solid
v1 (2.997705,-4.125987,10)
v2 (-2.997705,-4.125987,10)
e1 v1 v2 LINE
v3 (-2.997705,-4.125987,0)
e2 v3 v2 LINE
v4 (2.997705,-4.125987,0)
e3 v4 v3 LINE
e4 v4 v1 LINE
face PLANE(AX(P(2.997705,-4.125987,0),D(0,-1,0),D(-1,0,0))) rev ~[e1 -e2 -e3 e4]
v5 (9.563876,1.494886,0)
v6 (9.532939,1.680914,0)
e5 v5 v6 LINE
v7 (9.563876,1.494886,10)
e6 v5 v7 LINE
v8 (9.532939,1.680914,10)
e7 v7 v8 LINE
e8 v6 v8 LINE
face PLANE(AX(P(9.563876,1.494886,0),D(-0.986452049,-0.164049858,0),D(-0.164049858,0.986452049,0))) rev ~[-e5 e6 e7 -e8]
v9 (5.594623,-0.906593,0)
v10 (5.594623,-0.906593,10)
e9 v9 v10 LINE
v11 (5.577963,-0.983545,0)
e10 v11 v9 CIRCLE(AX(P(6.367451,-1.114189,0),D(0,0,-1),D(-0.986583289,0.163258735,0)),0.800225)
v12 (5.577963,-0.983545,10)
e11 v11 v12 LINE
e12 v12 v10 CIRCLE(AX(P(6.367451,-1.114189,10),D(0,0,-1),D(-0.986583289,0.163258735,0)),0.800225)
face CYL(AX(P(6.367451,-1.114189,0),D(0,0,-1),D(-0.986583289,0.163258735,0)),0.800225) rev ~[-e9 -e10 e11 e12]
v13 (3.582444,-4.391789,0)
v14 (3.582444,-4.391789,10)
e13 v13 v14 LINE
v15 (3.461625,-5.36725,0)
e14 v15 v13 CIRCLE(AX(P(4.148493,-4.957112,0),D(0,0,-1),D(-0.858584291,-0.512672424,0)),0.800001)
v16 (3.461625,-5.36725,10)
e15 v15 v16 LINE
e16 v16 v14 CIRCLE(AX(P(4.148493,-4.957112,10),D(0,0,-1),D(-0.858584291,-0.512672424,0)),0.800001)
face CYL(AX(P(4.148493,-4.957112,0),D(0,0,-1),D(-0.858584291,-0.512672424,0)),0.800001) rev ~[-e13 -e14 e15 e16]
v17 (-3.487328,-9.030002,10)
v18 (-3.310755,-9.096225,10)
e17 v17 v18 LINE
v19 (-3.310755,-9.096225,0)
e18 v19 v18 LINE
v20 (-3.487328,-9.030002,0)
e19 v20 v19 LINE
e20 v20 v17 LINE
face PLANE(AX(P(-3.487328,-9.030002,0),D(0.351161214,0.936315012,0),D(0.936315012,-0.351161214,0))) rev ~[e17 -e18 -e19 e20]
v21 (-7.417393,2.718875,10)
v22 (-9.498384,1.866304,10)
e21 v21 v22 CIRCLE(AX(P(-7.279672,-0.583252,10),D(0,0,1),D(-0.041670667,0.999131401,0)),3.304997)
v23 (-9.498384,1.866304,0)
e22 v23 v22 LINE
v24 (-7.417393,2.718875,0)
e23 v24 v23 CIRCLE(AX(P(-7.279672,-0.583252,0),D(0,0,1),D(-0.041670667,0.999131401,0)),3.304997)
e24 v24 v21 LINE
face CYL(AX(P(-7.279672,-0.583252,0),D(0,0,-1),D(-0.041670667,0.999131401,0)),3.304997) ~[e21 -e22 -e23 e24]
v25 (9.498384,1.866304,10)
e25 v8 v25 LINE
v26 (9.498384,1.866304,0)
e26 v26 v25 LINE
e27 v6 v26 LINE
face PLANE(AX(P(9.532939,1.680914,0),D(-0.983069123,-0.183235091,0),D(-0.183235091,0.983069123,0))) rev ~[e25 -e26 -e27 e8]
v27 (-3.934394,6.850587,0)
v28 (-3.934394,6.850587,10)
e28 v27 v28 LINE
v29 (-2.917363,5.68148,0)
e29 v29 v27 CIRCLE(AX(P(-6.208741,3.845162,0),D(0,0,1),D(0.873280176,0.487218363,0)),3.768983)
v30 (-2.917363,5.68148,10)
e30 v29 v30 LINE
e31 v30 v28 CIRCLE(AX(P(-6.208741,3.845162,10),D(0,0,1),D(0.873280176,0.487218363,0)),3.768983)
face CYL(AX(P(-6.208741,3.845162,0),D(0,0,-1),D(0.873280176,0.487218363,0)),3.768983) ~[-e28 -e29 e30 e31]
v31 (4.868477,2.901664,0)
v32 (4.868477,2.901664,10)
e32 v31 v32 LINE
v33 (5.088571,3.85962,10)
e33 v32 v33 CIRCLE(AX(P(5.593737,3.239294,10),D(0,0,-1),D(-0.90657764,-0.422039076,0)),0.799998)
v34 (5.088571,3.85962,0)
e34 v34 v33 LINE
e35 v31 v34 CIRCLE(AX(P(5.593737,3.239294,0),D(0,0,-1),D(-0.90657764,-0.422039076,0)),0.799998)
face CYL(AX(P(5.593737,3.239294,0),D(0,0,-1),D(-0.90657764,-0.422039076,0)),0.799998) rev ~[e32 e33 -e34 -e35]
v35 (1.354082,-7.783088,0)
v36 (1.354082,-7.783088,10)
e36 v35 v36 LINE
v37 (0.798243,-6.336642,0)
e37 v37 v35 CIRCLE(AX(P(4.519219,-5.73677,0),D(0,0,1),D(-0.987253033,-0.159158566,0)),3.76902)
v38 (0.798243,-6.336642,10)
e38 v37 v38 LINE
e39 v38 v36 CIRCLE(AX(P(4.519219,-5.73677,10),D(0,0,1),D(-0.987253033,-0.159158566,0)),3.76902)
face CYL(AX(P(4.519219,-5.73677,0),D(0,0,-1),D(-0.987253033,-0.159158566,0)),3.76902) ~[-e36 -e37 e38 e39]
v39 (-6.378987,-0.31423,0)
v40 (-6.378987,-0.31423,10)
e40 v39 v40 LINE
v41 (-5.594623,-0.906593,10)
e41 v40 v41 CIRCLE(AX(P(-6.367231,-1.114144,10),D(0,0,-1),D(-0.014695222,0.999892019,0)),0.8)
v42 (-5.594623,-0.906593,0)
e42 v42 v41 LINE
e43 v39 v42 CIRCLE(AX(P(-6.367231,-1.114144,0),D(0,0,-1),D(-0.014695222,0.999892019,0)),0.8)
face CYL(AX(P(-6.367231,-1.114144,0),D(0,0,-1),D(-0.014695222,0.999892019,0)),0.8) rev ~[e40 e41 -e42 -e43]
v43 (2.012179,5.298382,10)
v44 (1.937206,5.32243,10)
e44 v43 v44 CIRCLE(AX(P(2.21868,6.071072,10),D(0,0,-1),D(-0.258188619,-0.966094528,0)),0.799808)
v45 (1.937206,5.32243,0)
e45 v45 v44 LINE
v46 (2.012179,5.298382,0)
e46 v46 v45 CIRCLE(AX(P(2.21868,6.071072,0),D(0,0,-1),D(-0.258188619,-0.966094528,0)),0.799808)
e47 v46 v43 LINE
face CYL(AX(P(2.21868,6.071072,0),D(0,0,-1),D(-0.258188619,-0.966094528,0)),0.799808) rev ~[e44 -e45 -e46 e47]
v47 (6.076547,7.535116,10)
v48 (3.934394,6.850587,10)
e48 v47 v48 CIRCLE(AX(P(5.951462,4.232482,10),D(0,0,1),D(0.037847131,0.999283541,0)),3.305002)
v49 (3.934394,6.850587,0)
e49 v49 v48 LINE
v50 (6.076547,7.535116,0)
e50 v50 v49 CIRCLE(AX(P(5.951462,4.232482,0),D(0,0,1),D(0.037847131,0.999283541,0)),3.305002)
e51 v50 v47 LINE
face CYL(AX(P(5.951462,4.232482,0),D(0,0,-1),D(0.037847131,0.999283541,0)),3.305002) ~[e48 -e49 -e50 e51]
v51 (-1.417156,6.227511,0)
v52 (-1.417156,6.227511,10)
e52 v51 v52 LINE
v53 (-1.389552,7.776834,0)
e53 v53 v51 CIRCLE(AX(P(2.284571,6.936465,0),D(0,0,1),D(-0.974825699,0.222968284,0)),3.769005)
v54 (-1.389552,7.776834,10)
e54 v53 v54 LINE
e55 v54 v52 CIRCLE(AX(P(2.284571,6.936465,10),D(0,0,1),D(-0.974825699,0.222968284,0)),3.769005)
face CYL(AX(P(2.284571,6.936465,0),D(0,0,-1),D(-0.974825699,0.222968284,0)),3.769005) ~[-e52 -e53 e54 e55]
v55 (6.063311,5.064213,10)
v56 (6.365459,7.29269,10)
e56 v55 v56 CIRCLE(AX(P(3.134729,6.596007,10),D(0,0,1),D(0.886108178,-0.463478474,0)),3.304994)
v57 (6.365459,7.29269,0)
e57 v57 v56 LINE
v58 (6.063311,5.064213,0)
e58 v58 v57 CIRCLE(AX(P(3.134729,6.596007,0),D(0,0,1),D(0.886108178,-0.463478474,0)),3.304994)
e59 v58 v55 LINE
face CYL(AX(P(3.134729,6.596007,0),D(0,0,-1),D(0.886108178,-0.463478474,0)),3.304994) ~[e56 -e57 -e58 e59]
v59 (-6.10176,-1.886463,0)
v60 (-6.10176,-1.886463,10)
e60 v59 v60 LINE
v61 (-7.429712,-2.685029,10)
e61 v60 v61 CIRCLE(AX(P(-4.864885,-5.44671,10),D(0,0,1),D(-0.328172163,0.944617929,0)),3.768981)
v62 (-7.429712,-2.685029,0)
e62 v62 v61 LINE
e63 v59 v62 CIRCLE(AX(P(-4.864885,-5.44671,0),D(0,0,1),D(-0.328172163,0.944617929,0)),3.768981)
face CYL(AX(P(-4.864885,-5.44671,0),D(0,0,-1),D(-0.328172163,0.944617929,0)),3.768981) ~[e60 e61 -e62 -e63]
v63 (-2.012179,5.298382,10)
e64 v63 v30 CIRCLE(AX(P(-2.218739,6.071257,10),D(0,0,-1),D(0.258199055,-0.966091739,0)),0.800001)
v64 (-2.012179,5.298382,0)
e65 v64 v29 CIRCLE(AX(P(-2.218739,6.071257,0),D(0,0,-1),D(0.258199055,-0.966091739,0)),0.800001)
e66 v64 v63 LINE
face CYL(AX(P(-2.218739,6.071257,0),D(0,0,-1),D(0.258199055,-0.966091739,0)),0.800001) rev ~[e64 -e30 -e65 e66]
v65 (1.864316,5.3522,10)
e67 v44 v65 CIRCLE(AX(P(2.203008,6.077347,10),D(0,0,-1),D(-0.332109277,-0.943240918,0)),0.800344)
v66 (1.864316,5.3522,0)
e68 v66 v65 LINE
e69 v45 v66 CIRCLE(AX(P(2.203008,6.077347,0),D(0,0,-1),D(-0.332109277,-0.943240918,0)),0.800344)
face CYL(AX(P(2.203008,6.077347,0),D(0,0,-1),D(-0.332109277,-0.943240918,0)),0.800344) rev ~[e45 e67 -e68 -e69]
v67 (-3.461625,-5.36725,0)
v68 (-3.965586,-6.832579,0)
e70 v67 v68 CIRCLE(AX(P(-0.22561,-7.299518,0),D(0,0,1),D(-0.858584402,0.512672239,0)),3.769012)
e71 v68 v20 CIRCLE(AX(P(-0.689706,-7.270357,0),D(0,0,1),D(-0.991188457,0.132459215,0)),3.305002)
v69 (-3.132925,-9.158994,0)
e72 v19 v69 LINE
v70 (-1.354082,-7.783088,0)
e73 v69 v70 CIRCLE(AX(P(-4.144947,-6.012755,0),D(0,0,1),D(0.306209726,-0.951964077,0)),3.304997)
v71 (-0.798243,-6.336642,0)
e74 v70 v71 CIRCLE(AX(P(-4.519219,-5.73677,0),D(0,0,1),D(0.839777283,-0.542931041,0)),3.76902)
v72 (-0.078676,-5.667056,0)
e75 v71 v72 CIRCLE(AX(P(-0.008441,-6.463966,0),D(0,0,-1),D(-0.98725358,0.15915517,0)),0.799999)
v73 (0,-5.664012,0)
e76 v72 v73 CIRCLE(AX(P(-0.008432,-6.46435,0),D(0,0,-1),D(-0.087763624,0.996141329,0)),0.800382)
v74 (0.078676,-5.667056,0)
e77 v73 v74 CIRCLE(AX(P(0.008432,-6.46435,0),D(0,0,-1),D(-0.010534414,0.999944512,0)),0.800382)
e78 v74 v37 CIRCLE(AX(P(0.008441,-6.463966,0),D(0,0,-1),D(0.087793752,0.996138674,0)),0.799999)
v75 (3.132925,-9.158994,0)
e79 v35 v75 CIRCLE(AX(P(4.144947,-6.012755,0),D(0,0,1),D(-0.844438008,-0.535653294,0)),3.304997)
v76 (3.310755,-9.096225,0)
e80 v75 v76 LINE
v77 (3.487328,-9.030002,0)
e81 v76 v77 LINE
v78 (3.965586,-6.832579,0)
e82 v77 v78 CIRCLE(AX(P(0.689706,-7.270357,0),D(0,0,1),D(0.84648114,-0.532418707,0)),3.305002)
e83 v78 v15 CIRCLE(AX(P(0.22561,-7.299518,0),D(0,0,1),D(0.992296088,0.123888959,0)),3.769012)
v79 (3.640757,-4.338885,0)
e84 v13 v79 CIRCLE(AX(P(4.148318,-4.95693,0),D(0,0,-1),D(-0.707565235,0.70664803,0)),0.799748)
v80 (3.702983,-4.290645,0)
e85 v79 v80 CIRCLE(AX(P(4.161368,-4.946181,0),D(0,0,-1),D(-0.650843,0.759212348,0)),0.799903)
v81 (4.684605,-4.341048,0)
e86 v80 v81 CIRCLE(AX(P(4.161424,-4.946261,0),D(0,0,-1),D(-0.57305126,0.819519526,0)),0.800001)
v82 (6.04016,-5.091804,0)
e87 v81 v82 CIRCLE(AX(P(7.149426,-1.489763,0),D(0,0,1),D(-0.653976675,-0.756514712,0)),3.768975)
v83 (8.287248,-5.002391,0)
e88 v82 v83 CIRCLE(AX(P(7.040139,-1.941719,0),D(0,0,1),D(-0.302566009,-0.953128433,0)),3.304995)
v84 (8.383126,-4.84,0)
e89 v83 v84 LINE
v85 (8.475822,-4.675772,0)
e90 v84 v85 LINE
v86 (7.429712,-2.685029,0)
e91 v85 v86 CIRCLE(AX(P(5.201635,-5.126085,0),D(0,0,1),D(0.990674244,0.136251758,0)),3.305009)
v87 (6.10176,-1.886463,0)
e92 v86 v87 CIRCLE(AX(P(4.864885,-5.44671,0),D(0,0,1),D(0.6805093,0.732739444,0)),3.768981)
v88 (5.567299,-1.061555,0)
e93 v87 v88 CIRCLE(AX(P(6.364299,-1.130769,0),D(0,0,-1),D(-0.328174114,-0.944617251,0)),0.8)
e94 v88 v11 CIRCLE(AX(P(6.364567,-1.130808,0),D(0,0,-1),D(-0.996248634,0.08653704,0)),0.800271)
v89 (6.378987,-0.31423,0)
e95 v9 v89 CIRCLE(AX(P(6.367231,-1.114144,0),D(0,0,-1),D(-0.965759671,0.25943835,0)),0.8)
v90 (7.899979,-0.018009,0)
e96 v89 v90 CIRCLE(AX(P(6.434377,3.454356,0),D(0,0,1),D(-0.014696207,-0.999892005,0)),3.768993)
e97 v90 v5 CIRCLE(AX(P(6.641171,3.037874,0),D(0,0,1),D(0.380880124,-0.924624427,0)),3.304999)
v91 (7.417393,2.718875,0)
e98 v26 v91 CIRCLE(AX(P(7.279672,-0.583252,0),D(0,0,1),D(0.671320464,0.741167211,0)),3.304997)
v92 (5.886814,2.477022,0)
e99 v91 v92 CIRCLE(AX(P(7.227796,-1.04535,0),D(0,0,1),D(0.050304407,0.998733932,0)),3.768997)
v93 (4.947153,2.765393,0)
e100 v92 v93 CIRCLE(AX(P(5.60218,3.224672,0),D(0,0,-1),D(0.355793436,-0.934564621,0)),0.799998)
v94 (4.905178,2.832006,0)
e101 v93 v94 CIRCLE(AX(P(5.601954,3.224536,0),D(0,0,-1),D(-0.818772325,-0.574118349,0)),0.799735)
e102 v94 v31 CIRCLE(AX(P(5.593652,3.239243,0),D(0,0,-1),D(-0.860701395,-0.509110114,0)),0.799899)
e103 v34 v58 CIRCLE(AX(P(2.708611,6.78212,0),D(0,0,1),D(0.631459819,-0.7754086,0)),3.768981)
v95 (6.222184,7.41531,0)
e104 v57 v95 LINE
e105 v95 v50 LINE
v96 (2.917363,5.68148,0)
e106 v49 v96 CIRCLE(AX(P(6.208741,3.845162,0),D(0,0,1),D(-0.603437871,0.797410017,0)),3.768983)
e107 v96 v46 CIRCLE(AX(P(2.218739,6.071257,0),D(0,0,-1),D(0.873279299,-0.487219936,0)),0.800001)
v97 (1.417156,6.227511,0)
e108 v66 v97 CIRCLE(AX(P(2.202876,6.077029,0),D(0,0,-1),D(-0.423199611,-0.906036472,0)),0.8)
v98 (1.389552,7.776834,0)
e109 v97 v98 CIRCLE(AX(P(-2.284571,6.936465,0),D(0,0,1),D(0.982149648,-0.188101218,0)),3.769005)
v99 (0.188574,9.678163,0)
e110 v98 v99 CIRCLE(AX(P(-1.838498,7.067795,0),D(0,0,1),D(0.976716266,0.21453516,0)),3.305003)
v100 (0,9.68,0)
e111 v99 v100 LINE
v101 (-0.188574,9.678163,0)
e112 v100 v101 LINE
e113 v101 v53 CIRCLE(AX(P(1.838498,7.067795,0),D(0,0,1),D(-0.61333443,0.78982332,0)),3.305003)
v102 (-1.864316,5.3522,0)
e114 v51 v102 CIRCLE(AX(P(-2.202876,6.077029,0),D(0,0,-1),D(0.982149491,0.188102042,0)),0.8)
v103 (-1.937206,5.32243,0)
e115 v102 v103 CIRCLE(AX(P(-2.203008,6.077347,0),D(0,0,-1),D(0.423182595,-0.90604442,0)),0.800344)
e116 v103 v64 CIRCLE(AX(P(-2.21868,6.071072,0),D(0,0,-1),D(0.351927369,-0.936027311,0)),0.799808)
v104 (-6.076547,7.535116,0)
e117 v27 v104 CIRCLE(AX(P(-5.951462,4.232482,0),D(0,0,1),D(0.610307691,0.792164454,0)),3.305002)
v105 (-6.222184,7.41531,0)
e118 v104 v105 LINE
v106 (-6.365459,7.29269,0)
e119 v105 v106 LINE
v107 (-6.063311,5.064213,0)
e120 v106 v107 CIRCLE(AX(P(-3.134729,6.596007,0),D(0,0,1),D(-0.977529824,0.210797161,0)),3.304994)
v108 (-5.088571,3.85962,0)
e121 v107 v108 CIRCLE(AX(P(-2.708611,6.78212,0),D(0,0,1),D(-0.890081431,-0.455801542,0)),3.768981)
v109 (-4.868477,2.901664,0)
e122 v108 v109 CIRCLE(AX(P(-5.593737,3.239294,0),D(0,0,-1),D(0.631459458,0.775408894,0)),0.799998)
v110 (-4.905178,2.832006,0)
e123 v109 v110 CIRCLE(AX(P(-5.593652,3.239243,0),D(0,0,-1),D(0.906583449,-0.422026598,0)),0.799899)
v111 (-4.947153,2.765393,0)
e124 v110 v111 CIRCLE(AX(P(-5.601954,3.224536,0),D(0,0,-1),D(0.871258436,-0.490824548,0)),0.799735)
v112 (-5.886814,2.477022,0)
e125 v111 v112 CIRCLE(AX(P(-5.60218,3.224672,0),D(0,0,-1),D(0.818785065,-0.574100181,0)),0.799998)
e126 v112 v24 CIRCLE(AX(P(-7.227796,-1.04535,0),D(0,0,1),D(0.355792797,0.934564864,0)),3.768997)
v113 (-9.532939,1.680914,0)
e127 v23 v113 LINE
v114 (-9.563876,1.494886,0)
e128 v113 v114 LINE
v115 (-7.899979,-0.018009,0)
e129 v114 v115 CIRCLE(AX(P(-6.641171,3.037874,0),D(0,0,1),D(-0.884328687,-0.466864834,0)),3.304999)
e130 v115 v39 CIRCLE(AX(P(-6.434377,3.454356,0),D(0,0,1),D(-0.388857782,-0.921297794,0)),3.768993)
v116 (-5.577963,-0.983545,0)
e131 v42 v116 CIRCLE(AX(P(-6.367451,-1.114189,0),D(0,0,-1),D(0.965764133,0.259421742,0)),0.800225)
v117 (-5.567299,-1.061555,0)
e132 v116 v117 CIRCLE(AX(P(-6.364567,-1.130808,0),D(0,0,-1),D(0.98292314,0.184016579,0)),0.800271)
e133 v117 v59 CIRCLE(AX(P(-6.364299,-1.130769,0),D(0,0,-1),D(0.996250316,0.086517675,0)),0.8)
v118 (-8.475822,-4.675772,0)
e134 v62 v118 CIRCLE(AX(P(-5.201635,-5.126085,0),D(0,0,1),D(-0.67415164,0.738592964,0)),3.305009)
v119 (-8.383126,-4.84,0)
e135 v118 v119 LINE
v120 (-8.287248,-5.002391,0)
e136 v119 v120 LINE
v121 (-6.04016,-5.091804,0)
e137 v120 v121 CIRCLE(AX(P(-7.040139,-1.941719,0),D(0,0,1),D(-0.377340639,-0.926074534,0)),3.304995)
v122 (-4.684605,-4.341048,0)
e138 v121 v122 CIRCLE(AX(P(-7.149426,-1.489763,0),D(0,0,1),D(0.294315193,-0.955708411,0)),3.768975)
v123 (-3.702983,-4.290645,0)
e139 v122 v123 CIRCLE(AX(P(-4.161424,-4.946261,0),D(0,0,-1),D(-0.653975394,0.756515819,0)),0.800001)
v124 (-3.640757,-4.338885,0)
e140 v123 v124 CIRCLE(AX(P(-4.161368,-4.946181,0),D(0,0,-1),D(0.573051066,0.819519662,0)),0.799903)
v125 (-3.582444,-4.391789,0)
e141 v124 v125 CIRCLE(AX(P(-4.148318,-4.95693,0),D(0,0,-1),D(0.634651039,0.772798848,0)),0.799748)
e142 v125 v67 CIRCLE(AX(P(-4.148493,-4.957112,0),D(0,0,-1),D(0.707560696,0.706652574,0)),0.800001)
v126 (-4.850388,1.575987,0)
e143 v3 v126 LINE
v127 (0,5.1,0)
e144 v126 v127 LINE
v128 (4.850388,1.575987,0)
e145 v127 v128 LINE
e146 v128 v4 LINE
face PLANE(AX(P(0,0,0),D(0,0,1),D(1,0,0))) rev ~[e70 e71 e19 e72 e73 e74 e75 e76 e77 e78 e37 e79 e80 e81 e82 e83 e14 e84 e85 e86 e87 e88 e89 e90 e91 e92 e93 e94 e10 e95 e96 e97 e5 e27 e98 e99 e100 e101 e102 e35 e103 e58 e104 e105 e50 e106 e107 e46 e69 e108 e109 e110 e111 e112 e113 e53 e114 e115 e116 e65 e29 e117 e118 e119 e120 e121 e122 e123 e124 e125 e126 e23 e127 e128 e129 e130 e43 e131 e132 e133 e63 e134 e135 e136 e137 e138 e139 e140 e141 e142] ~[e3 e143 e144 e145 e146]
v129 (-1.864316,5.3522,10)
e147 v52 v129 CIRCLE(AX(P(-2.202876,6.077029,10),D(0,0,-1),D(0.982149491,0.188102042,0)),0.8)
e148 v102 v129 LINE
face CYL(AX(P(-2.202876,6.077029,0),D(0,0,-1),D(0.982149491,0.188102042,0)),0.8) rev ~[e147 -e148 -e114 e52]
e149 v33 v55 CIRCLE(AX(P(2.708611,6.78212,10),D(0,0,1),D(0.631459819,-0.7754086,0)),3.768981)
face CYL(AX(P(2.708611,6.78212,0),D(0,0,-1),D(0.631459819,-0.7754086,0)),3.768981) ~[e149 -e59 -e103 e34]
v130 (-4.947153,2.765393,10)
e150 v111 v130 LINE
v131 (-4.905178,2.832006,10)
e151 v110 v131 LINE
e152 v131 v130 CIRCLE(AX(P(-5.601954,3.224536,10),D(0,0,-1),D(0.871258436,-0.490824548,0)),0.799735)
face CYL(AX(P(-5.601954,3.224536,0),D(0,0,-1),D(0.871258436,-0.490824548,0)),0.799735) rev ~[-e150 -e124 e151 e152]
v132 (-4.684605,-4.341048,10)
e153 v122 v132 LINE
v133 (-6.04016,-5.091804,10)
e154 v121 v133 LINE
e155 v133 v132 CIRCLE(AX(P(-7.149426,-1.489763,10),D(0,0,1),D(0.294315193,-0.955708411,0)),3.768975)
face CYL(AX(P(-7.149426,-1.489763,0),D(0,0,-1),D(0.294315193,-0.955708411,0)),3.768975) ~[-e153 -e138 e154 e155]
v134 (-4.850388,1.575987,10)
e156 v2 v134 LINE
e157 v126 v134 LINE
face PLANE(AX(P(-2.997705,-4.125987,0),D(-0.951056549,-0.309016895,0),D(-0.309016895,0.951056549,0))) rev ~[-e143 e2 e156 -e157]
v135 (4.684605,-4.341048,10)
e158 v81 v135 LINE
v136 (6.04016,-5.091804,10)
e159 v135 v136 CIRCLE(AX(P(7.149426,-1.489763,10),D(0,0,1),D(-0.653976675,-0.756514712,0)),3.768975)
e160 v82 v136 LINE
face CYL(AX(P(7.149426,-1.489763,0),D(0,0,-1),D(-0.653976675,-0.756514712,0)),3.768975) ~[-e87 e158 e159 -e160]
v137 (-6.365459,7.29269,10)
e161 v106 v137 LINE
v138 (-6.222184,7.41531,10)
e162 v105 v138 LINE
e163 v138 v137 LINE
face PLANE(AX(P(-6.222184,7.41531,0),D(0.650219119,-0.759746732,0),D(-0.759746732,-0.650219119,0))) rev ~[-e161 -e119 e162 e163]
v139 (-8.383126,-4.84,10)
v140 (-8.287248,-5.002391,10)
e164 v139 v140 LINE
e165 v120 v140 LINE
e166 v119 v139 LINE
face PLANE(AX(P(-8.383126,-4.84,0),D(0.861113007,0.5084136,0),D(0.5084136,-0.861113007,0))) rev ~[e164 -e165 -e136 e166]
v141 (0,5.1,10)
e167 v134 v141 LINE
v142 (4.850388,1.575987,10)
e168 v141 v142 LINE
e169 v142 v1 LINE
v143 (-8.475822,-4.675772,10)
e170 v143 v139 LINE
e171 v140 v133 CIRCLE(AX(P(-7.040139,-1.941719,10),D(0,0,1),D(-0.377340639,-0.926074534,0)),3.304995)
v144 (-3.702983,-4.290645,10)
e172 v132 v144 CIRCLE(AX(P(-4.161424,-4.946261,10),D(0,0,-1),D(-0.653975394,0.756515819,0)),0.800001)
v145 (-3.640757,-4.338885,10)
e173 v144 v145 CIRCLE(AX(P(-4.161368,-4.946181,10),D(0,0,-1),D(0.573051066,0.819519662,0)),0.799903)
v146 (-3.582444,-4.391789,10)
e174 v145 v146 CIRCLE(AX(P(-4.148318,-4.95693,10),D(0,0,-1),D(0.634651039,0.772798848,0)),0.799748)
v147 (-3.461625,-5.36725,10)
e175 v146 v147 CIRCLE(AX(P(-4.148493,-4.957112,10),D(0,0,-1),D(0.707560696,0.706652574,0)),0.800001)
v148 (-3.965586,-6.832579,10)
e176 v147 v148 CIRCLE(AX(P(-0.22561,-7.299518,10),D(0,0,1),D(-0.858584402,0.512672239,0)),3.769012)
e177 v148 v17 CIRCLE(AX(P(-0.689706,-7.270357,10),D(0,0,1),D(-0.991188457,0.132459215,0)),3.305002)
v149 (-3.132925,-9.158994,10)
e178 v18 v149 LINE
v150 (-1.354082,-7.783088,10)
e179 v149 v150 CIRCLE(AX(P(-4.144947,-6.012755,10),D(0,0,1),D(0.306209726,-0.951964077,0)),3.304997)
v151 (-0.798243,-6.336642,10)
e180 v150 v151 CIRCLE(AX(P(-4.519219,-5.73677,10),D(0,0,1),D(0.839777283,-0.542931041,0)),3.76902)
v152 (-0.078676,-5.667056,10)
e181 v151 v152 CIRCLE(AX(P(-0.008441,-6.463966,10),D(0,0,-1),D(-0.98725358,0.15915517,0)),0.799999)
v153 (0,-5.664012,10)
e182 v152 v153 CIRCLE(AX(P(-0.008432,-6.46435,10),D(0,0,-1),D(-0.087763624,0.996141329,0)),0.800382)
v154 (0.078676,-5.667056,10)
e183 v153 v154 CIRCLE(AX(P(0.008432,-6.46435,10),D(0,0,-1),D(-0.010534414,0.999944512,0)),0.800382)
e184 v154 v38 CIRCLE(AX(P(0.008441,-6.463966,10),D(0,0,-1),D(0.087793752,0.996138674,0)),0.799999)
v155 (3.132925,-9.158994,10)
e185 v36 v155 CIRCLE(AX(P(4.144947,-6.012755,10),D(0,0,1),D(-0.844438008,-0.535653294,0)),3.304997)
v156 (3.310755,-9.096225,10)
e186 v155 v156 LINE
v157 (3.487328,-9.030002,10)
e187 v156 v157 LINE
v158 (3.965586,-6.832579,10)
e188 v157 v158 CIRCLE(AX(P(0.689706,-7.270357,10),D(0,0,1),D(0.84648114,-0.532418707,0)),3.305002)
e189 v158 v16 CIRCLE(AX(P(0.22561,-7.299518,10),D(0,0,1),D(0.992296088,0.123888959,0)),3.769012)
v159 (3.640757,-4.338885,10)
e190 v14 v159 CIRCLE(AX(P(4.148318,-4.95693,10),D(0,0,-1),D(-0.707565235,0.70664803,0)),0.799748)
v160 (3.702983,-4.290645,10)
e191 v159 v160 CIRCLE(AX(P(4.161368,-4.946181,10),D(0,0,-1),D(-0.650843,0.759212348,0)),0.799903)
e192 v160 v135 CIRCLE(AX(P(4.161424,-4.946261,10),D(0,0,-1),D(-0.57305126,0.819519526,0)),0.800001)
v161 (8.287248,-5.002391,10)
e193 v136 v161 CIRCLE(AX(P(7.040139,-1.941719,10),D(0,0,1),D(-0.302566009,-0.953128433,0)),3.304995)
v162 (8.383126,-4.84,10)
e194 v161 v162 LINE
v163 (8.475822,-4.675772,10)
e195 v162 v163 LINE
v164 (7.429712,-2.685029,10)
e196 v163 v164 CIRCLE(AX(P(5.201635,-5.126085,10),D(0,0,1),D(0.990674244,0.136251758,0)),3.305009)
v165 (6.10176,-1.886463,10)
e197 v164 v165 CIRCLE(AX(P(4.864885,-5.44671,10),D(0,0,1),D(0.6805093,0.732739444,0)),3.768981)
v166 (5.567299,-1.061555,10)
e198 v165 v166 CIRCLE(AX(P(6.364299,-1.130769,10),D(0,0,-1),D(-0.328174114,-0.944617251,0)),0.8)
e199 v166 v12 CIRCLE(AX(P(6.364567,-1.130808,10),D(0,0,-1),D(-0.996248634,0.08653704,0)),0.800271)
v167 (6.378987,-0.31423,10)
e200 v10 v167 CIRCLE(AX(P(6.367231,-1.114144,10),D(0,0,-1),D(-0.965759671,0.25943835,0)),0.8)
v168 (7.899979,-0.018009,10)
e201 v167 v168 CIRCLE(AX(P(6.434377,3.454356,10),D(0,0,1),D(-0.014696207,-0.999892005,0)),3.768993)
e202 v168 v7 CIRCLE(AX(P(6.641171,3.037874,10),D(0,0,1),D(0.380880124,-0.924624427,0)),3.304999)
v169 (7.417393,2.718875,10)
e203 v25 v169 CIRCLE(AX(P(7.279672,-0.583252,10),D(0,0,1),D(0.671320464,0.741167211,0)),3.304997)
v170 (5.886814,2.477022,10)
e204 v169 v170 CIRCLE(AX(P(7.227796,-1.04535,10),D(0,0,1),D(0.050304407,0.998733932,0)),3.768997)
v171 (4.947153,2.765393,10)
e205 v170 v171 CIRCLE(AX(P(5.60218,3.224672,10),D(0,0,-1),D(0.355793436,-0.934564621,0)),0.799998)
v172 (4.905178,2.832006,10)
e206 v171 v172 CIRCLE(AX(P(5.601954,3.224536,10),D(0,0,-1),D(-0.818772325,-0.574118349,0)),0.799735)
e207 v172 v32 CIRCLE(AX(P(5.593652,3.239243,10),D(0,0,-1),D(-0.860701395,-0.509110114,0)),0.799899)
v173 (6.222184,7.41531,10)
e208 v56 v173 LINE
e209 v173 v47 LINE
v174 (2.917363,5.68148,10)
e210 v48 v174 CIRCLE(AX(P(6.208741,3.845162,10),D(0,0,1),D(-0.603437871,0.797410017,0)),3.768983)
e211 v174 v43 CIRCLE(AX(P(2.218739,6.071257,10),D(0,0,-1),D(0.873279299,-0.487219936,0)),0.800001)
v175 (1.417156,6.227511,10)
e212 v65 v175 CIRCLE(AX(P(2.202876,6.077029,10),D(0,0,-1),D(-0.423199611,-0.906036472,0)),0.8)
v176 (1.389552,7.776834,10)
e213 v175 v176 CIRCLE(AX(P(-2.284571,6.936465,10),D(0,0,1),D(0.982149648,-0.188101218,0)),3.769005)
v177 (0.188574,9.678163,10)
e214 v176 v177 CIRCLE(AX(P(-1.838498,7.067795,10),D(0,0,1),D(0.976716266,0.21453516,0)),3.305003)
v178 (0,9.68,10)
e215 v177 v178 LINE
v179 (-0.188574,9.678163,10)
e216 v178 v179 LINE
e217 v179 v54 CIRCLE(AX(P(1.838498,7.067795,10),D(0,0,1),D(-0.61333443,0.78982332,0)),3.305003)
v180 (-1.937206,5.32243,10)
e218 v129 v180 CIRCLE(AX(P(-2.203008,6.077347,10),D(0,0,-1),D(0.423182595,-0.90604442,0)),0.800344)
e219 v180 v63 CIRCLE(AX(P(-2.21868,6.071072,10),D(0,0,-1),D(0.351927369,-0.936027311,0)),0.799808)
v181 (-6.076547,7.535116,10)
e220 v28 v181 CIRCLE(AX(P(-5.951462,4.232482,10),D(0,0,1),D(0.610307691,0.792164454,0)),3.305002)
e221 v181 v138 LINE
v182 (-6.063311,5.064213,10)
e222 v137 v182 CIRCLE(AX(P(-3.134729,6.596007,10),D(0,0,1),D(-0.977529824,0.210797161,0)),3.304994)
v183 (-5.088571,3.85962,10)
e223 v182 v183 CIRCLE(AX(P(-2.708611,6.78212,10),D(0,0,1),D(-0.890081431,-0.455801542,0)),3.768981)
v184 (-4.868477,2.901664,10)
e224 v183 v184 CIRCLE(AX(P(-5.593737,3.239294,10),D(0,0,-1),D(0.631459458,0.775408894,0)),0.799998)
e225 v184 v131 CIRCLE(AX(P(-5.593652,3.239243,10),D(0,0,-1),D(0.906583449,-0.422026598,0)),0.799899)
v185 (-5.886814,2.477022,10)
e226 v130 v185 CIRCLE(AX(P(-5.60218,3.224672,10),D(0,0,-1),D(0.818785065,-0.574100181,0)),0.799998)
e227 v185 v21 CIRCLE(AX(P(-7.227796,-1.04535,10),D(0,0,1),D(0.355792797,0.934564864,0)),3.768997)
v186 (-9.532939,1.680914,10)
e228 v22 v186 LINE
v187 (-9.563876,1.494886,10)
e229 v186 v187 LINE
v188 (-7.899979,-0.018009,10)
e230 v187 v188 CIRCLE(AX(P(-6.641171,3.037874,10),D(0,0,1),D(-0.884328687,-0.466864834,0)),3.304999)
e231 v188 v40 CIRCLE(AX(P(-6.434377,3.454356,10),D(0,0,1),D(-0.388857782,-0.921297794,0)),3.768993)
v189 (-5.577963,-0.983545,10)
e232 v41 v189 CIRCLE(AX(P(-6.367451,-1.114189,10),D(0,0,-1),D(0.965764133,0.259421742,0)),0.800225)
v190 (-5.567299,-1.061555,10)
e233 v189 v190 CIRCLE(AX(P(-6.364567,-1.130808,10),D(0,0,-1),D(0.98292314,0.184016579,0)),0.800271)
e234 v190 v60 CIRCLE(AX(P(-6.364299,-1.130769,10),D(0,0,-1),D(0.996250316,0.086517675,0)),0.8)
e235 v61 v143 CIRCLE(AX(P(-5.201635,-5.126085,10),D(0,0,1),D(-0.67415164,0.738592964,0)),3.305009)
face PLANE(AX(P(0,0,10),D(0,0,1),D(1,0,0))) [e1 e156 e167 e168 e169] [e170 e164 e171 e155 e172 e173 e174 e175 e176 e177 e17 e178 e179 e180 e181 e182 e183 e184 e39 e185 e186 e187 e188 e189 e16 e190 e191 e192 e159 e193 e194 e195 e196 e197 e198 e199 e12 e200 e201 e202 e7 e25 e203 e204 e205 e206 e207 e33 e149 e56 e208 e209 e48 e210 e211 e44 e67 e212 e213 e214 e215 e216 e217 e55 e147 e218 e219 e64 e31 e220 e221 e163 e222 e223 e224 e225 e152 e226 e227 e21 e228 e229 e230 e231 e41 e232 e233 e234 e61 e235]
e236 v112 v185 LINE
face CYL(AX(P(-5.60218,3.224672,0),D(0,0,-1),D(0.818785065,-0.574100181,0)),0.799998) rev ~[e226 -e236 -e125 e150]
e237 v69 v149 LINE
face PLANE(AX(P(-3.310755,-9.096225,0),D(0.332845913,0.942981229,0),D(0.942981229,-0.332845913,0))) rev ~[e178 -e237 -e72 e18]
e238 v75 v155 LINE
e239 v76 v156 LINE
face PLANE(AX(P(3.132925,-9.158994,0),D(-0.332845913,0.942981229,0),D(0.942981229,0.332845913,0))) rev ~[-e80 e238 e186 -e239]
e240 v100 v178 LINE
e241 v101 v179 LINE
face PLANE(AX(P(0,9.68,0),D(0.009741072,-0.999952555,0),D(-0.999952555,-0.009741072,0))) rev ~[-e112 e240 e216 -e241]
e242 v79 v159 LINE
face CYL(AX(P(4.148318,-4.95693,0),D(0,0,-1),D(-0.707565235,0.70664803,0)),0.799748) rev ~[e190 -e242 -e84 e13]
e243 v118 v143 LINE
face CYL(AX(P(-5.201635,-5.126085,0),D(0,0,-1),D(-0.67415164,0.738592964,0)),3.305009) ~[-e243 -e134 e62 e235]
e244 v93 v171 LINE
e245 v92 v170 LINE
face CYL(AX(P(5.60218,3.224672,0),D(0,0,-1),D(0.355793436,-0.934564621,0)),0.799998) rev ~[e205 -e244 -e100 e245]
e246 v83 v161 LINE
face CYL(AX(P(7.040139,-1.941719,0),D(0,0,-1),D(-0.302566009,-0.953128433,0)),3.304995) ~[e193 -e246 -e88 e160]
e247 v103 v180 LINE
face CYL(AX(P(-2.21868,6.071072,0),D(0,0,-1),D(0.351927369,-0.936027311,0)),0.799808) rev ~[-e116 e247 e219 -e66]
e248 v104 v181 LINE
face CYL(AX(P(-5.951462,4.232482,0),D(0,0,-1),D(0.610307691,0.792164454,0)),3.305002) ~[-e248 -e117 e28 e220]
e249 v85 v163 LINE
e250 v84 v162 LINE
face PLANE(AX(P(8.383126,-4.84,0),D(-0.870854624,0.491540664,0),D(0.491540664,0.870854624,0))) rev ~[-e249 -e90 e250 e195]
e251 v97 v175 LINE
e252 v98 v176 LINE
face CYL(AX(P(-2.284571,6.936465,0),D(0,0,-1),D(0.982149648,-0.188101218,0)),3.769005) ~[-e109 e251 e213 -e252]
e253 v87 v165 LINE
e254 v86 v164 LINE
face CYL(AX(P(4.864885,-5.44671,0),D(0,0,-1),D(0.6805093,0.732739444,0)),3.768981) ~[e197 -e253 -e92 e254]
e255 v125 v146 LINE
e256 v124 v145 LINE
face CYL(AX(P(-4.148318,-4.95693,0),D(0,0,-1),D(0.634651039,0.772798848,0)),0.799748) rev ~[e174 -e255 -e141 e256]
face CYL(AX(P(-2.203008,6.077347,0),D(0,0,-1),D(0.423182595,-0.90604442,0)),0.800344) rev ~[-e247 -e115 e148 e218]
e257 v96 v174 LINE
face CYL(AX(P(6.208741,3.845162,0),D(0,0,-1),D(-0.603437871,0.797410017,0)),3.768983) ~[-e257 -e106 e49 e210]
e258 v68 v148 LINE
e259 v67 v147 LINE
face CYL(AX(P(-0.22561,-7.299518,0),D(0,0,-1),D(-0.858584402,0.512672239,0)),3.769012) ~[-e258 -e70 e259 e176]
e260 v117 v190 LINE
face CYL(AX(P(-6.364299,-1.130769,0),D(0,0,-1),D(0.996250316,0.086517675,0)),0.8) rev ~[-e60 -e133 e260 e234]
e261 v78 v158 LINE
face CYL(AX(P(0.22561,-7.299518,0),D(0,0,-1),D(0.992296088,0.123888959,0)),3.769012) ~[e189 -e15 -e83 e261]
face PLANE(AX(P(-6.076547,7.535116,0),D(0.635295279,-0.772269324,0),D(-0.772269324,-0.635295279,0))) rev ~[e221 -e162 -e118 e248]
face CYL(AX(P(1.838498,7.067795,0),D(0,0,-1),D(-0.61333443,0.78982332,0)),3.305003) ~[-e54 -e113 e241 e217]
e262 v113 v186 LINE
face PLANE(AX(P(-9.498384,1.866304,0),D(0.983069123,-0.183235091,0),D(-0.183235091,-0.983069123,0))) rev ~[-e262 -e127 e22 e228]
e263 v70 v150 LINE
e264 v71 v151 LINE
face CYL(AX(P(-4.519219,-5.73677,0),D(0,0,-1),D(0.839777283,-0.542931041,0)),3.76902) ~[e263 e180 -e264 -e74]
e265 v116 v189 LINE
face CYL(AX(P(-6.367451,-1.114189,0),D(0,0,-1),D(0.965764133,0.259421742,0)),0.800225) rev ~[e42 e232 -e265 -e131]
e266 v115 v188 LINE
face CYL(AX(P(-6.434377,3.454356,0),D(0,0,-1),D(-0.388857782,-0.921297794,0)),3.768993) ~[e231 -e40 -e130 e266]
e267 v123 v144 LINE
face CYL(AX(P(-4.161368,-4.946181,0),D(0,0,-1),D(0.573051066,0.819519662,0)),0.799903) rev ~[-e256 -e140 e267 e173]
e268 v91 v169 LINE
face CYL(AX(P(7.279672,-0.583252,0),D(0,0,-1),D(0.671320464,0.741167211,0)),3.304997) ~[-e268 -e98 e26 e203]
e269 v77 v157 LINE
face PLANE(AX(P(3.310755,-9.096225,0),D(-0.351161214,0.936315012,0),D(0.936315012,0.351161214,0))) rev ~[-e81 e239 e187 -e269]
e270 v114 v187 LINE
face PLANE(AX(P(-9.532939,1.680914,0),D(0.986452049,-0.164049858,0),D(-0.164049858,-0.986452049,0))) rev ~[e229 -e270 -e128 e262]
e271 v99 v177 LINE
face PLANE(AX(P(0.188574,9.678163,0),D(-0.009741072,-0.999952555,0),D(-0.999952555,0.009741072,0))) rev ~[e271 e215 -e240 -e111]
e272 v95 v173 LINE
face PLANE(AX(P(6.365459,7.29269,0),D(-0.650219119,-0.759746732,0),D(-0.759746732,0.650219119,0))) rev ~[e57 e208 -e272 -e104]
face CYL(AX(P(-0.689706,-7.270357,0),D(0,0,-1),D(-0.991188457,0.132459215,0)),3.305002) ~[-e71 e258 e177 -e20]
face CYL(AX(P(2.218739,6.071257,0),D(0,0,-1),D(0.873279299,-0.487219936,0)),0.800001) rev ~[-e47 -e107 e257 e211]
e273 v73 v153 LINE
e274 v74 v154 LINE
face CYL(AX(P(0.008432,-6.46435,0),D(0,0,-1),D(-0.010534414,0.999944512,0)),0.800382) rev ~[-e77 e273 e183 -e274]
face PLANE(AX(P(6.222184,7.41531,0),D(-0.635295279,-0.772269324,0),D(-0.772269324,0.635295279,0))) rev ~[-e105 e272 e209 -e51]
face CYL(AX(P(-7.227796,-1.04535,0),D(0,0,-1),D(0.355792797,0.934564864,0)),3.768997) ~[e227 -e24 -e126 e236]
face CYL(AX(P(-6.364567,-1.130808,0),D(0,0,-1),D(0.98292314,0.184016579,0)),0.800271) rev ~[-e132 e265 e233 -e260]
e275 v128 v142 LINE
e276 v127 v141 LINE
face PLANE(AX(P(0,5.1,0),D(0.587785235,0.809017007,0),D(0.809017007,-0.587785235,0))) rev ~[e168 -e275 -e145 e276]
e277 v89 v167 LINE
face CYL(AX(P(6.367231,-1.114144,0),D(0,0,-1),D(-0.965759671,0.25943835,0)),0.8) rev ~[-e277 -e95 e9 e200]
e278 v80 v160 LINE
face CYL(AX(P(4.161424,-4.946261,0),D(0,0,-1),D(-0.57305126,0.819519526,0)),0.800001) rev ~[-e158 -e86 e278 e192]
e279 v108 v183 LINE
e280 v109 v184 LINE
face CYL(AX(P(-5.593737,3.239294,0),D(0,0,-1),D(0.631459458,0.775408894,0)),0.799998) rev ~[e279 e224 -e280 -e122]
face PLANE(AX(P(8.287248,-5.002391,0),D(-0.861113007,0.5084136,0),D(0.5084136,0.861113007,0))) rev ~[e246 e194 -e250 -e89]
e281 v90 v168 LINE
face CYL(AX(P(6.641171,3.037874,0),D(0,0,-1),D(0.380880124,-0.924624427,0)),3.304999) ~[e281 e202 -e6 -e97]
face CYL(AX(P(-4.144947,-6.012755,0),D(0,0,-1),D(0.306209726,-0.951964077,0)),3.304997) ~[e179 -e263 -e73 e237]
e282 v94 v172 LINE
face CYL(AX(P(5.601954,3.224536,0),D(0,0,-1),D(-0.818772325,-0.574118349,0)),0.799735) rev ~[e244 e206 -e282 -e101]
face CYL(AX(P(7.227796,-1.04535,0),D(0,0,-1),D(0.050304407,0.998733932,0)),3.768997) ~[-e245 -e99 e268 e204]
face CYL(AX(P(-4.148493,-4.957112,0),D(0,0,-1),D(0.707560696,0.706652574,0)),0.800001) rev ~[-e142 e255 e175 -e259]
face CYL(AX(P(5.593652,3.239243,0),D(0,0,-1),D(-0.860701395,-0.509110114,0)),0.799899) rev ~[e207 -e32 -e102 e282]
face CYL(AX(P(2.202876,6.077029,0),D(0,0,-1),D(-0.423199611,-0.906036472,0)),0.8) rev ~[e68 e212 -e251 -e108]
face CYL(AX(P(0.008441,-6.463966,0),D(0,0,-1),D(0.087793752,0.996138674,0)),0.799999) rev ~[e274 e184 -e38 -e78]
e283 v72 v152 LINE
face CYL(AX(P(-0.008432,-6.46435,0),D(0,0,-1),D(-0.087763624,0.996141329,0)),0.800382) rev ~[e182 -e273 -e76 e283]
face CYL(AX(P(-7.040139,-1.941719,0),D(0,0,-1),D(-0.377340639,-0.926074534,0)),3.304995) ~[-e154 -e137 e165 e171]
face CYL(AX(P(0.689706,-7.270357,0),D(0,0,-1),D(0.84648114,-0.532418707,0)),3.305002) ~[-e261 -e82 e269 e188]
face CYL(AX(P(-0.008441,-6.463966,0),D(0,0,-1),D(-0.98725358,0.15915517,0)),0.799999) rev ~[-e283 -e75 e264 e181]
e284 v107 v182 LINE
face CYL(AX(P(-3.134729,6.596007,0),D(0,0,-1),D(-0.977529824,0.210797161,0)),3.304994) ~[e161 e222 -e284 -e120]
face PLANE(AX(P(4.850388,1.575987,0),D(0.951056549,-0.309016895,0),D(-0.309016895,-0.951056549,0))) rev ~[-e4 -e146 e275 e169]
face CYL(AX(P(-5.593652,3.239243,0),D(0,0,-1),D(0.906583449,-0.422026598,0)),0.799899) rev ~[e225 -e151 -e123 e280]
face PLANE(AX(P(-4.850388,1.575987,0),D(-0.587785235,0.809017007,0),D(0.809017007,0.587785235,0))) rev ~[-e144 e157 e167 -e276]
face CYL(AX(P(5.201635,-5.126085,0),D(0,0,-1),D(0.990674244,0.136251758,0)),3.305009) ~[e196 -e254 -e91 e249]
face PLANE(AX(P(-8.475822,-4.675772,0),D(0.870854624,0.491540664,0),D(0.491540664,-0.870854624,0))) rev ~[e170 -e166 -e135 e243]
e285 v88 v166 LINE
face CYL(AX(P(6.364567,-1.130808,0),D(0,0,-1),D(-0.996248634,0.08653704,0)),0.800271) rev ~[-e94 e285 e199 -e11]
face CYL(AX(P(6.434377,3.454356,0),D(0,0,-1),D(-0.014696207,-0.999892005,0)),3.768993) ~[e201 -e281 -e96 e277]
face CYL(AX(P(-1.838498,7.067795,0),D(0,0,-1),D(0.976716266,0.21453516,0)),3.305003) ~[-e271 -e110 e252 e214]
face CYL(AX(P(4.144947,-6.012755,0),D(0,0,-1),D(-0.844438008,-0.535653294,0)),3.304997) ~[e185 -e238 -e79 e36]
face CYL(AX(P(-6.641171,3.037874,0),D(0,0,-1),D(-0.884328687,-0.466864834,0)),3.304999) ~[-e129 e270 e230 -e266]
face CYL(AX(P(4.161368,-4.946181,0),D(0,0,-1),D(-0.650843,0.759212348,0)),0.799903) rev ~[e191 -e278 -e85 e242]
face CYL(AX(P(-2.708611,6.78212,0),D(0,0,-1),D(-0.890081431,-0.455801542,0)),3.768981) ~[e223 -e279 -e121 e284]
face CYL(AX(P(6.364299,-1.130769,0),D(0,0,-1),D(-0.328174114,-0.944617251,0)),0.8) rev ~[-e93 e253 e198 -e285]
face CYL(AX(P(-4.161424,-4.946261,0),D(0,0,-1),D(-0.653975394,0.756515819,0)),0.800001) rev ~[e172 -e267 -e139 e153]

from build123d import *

# Parameters (mm, degrees)
F1_DEPTH = 10


with BuildPart() as f1:
    # F0 (on Top) → F1 (new body)
    with BuildSketch(Plane.XY):
        with BuildLine():
            ThreePointArc((1.864316, 5.3522), (1.490455, 5.713083), (1.417156, 6.227511))
            ThreePointArc((1.417156, 6.227511), (1.483836, 7.003606), (1.389552, 7.776834))
            ThreePointArc((1.389552, 7.776834), (0.955753, 8.832789), (0.188574, 9.678163))
            Line((0.188574, 9.678163), (0, 9.68))
            Line((0, 9.68), (-0.188574, 9.678163))
            ThreePointArc((-0.188574, 9.678163), (-0.955753, 8.832789), (-1.389552, 7.776834))
            ThreePointArc((-1.389552, 7.776834), (-1.483836, 7.003606), (-1.417156, 6.227511))
            ThreePointArc((-1.417156, 6.227511), (-1.490455, 5.713083), (-1.864316, 5.3522))
            ThreePointArc((-1.864316, 5.3522), (-1.900395, 5.336418), (-1.937206, 5.32243))
            ThreePointArc((-1.937206, 5.32243), (-1.974396, 5.309483), (-2.012179, 5.298382))
            ThreePointArc((-2.012179, 5.298382), (-2.530544, 5.334521), (-2.917363, 5.68148))
            ThreePointArc((-2.917363, 5.68148), (-3.365147, 6.318865), (-3.934394, 6.850587))
            ThreePointArc((-3.934394, 6.850587), (-4.945458, 7.380655), (-6.076547, 7.535116))
            Line((-6.076547, 7.535116), (-6.222184, 7.41531))
            Line((-6.222184, 7.41531), (-6.365459, 7.29269))
            ThreePointArc((-6.365459, 7.29269), (-6.409757, 6.151962), (-6.063311, 5.064213))
            ThreePointArc((-6.063311, 5.064213), (-5.638516, 4.411282), (-5.088571, 3.85962))
            ThreePointArc((-5.088571, 3.85962), (-4.814053, 3.418429), (-4.868477, 2.901664))
            ThreePointArc((-4.868477, 2.901664), (-4.88597, 2.866383), (-4.905178, 2.832006))
            ThreePointArc((-4.905178, 2.832006), (-4.925345, 2.798183), (-4.947153, 2.765393))
            ThreePointArc((-4.947153, 2.765393), (-5.367473, 2.459878), (-5.886814, 2.477022))
            ThreePointArc((-5.886814, 2.477022), (-6.63954, 2.677457), (-7.417393, 2.718875))
            ThreePointArc((-7.417393, 2.718875), (-8.532634, 2.475031), (-9.498384, 1.866304))
            Line((-9.498384, 1.866304), (-9.532939, 1.680914))
            Line((-9.532939, 1.680914), (-9.563876, 1.494886))
            ThreePointArc((-9.563876, 1.494886), (-8.864564, 0.592564), (-7.899979, -0.018009))
            ThreePointArc((-7.899979, -0.018009), (-7.154871, -0.24513), (-6.378987, -0.31423))
            ThreePointArc((-6.378987, -0.31423), (-5.885103, -0.475745), (-5.594623, -0.906593))
            ThreePointArc((-5.594623, -0.906593), (-5.585346, -0.944864), (-5.577963, -0.983545))
            ThreePointArc((-5.577963, -0.983545), (-5.571671, -1.022419), (-5.567299, -1.061555))
            ThreePointArc((-5.567299, -1.061555), (-5.692902, -1.56577), (-6.10176, -1.886463))
            ThreePointArc((-6.10176, -1.886463), (-6.807219, -2.216763), (-7.429712, -2.685029))
            ThreePointArc((-7.429712, -2.685029), (-8.127296, -3.588688), (-8.475822, -4.675772))
            Line((-8.475822, -4.675772), (-8.383126, -4.84))
            Line((-8.383126, -4.84), (-8.287248, -5.002391))
            ThreePointArc((-8.287248, -5.002391), (-7.171543, -5.244101), (-6.04016, -5.091804))
            ThreePointArc((-6.04016, -5.091804), (-5.323383, -4.786843), (-4.684605, -4.341048))
            ThreePointArc((-4.684605, -4.341048), (-4.202447, -4.147313), (-3.702983, -4.290645))
            ThreePointArc((-3.702983, -4.290645), (-3.671276, -4.313999), (-3.640757, -4.338885))
            ThreePointArc((-3.640757, -4.338885), (-3.610949, -4.364619), (-3.582444, -4.391789))
            ThreePointArc((-3.582444, -4.391789), (-3.354559, -4.858776), (-3.461625, -5.36725))
            ThreePointArc((-3.461625, -5.36725), (-3.789724, -6.073735), (-3.965586, -6.832579))
            ThreePointArc((-3.965586, -6.832579), (-3.919106, -7.973219), (-3.487328, -9.030002))
            Line((-3.487328, -9.030002), (-3.310755, -9.096225))
            Line((-3.310755, -9.096225), (-3.132925, -9.158994))
            ThreePointArc((-3.132925, -9.158994), (-2.122877, -8.626993), (-1.354082, -7.783088))
            ThreePointArc((-1.354082, -7.783088), (-1.001025, -7.088739), (-0.798243, -6.336642))
            ThreePointArc((-0.798243, -6.336642), (-0.55342, -5.878307), (-0.078676, -5.667056))
            ThreePointArc((-0.078676, -5.667056), (-0.039376, -5.664566), (0, -5.664012))
            ThreePointArc((0, -5.664012), (0.039376, -5.664566), (0.078676, -5.667056))
            ThreePointArc((0.078676, -5.667056), (0.55342, -5.878307), (0.798243, -6.336642))
            ThreePointArc((0.798243, -6.336642), (1.001025, -7.088739), (1.354082, -7.783088))
            ThreePointArc((1.354082, -7.783088), (2.122877, -8.626993), (3.132925, -9.158994))
            Line((3.132925, -9.158994), (3.310755, -9.096225))
            Line((3.310755, -9.096225), (3.487328, -9.030002))
            ThreePointArc((3.487328, -9.030002), (3.919106, -7.973219), (3.965586, -6.832579))
            ThreePointArc((3.965586, -6.832579), (3.789724, -6.073735), (3.461625, -5.36725))
            ThreePointArc((3.461625, -5.36725), (3.354559, -4.858776), (3.582444, -4.391789))
            ThreePointArc((3.582444, -4.391789), (3.610949, -4.364619), (3.640757, -4.338885))
            ThreePointArc((3.640757, -4.338885), (3.671276, -4.313999), (3.702983, -4.290645))
            ThreePointArc((3.702983, -4.290645), (4.202447, -4.147313), (4.684605, -4.341048))
            ThreePointArc((4.684605, -4.341048), (5.323383, -4.786843), (6.04016, -5.091804))
            ThreePointArc((6.04016, -5.091804), (7.171543, -5.244101), (8.287248, -5.002391))
            Line((8.287248, -5.002391), (8.383126, -4.84))
            Line((8.383126, -4.84), (8.475822, -4.675772))
            ThreePointArc((8.475822, -4.675772), (8.127296, -3.588688), (7.429712, -2.685029))
            ThreePointArc((7.429712, -2.685029), (6.807219, -2.216763), (6.10176, -1.886463))
            ThreePointArc((6.10176, -1.886463), (5.692902, -1.56577), (5.567299, -1.061555))
            ThreePointArc((5.567299, -1.061555), (5.571671, -1.022419), (5.577963, -0.983545))
            ThreePointArc((5.577963, -0.983545), (5.585346, -0.944864), (5.594623, -0.906593))
            ThreePointArc((5.594623, -0.906593), (5.885103, -0.475745), (6.378987, -0.31423))
            ThreePointArc((6.378987, -0.31423), (7.154871, -0.24513), (7.899979, -0.018009))
            ThreePointArc((7.899979, -0.018009), (8.864564, 0.592564), (9.563876, 1.494886))
            Line((9.563876, 1.494886), (9.532939, 1.680914))
            Line((9.532939, 1.680914), (9.498384, 1.866304))
            ThreePointArc((9.498384, 1.866304), (8.532634, 2.475031), (7.417393, 2.718875))
            ThreePointArc((7.417393, 2.718875), (6.63954, 2.677457), (5.886814, 2.477022))
            ThreePointArc((5.886814, 2.477022), (5.367473, 2.459878), (4.947153, 2.765393))
            ThreePointArc((4.947153, 2.765393), (4.925345, 2.798183), (4.905178, 2.832006))
            ThreePointArc((4.905178, 2.832006), (4.88597, 2.866383), (4.868477, 2.901664))
            ThreePointArc((4.868477, 2.901664), (4.814053, 3.418429), (5.088571, 3.85962))
            ThreePointArc((5.088571, 3.85962), (5.638516, 4.411282), (6.063311, 5.064213))
            ThreePointArc((6.063311, 5.064213), (6.409757, 6.151962), (6.365459, 7.29269))
            Line((6.365459, 7.29269), (6.222184, 7.41531))
            Line((6.222184, 7.41531), (6.076547, 7.535116))
            ThreePointArc((6.076547, 7.535116), (4.945458, 7.380655), (3.934394, 6.850587))
            ThreePointArc((3.934394, 6.850587), (3.365147, 6.318865), (2.917363, 5.68148))
            ThreePointArc((2.917363, 5.68148), (2.530544, 5.334521), (2.012179, 5.298382))
            ThreePointArc((2.012179, 5.298382), (1.974396, 5.309483), (1.937206, 5.32243))
            ThreePointArc((1.937206, 5.32243), (1.900395, 5.336418), (1.864316, 5.3522))
        make_face()
        Polygon((0, 5.1), (4.850388, 1.575987), (2.997705, -4.125987), (-2.997705, -4.125987), (-4.850388, 1.575987), align=None, mode=Mode.SUBTRACT)
    extrude(amount=F1_DEPTH)


solid = f1.part
